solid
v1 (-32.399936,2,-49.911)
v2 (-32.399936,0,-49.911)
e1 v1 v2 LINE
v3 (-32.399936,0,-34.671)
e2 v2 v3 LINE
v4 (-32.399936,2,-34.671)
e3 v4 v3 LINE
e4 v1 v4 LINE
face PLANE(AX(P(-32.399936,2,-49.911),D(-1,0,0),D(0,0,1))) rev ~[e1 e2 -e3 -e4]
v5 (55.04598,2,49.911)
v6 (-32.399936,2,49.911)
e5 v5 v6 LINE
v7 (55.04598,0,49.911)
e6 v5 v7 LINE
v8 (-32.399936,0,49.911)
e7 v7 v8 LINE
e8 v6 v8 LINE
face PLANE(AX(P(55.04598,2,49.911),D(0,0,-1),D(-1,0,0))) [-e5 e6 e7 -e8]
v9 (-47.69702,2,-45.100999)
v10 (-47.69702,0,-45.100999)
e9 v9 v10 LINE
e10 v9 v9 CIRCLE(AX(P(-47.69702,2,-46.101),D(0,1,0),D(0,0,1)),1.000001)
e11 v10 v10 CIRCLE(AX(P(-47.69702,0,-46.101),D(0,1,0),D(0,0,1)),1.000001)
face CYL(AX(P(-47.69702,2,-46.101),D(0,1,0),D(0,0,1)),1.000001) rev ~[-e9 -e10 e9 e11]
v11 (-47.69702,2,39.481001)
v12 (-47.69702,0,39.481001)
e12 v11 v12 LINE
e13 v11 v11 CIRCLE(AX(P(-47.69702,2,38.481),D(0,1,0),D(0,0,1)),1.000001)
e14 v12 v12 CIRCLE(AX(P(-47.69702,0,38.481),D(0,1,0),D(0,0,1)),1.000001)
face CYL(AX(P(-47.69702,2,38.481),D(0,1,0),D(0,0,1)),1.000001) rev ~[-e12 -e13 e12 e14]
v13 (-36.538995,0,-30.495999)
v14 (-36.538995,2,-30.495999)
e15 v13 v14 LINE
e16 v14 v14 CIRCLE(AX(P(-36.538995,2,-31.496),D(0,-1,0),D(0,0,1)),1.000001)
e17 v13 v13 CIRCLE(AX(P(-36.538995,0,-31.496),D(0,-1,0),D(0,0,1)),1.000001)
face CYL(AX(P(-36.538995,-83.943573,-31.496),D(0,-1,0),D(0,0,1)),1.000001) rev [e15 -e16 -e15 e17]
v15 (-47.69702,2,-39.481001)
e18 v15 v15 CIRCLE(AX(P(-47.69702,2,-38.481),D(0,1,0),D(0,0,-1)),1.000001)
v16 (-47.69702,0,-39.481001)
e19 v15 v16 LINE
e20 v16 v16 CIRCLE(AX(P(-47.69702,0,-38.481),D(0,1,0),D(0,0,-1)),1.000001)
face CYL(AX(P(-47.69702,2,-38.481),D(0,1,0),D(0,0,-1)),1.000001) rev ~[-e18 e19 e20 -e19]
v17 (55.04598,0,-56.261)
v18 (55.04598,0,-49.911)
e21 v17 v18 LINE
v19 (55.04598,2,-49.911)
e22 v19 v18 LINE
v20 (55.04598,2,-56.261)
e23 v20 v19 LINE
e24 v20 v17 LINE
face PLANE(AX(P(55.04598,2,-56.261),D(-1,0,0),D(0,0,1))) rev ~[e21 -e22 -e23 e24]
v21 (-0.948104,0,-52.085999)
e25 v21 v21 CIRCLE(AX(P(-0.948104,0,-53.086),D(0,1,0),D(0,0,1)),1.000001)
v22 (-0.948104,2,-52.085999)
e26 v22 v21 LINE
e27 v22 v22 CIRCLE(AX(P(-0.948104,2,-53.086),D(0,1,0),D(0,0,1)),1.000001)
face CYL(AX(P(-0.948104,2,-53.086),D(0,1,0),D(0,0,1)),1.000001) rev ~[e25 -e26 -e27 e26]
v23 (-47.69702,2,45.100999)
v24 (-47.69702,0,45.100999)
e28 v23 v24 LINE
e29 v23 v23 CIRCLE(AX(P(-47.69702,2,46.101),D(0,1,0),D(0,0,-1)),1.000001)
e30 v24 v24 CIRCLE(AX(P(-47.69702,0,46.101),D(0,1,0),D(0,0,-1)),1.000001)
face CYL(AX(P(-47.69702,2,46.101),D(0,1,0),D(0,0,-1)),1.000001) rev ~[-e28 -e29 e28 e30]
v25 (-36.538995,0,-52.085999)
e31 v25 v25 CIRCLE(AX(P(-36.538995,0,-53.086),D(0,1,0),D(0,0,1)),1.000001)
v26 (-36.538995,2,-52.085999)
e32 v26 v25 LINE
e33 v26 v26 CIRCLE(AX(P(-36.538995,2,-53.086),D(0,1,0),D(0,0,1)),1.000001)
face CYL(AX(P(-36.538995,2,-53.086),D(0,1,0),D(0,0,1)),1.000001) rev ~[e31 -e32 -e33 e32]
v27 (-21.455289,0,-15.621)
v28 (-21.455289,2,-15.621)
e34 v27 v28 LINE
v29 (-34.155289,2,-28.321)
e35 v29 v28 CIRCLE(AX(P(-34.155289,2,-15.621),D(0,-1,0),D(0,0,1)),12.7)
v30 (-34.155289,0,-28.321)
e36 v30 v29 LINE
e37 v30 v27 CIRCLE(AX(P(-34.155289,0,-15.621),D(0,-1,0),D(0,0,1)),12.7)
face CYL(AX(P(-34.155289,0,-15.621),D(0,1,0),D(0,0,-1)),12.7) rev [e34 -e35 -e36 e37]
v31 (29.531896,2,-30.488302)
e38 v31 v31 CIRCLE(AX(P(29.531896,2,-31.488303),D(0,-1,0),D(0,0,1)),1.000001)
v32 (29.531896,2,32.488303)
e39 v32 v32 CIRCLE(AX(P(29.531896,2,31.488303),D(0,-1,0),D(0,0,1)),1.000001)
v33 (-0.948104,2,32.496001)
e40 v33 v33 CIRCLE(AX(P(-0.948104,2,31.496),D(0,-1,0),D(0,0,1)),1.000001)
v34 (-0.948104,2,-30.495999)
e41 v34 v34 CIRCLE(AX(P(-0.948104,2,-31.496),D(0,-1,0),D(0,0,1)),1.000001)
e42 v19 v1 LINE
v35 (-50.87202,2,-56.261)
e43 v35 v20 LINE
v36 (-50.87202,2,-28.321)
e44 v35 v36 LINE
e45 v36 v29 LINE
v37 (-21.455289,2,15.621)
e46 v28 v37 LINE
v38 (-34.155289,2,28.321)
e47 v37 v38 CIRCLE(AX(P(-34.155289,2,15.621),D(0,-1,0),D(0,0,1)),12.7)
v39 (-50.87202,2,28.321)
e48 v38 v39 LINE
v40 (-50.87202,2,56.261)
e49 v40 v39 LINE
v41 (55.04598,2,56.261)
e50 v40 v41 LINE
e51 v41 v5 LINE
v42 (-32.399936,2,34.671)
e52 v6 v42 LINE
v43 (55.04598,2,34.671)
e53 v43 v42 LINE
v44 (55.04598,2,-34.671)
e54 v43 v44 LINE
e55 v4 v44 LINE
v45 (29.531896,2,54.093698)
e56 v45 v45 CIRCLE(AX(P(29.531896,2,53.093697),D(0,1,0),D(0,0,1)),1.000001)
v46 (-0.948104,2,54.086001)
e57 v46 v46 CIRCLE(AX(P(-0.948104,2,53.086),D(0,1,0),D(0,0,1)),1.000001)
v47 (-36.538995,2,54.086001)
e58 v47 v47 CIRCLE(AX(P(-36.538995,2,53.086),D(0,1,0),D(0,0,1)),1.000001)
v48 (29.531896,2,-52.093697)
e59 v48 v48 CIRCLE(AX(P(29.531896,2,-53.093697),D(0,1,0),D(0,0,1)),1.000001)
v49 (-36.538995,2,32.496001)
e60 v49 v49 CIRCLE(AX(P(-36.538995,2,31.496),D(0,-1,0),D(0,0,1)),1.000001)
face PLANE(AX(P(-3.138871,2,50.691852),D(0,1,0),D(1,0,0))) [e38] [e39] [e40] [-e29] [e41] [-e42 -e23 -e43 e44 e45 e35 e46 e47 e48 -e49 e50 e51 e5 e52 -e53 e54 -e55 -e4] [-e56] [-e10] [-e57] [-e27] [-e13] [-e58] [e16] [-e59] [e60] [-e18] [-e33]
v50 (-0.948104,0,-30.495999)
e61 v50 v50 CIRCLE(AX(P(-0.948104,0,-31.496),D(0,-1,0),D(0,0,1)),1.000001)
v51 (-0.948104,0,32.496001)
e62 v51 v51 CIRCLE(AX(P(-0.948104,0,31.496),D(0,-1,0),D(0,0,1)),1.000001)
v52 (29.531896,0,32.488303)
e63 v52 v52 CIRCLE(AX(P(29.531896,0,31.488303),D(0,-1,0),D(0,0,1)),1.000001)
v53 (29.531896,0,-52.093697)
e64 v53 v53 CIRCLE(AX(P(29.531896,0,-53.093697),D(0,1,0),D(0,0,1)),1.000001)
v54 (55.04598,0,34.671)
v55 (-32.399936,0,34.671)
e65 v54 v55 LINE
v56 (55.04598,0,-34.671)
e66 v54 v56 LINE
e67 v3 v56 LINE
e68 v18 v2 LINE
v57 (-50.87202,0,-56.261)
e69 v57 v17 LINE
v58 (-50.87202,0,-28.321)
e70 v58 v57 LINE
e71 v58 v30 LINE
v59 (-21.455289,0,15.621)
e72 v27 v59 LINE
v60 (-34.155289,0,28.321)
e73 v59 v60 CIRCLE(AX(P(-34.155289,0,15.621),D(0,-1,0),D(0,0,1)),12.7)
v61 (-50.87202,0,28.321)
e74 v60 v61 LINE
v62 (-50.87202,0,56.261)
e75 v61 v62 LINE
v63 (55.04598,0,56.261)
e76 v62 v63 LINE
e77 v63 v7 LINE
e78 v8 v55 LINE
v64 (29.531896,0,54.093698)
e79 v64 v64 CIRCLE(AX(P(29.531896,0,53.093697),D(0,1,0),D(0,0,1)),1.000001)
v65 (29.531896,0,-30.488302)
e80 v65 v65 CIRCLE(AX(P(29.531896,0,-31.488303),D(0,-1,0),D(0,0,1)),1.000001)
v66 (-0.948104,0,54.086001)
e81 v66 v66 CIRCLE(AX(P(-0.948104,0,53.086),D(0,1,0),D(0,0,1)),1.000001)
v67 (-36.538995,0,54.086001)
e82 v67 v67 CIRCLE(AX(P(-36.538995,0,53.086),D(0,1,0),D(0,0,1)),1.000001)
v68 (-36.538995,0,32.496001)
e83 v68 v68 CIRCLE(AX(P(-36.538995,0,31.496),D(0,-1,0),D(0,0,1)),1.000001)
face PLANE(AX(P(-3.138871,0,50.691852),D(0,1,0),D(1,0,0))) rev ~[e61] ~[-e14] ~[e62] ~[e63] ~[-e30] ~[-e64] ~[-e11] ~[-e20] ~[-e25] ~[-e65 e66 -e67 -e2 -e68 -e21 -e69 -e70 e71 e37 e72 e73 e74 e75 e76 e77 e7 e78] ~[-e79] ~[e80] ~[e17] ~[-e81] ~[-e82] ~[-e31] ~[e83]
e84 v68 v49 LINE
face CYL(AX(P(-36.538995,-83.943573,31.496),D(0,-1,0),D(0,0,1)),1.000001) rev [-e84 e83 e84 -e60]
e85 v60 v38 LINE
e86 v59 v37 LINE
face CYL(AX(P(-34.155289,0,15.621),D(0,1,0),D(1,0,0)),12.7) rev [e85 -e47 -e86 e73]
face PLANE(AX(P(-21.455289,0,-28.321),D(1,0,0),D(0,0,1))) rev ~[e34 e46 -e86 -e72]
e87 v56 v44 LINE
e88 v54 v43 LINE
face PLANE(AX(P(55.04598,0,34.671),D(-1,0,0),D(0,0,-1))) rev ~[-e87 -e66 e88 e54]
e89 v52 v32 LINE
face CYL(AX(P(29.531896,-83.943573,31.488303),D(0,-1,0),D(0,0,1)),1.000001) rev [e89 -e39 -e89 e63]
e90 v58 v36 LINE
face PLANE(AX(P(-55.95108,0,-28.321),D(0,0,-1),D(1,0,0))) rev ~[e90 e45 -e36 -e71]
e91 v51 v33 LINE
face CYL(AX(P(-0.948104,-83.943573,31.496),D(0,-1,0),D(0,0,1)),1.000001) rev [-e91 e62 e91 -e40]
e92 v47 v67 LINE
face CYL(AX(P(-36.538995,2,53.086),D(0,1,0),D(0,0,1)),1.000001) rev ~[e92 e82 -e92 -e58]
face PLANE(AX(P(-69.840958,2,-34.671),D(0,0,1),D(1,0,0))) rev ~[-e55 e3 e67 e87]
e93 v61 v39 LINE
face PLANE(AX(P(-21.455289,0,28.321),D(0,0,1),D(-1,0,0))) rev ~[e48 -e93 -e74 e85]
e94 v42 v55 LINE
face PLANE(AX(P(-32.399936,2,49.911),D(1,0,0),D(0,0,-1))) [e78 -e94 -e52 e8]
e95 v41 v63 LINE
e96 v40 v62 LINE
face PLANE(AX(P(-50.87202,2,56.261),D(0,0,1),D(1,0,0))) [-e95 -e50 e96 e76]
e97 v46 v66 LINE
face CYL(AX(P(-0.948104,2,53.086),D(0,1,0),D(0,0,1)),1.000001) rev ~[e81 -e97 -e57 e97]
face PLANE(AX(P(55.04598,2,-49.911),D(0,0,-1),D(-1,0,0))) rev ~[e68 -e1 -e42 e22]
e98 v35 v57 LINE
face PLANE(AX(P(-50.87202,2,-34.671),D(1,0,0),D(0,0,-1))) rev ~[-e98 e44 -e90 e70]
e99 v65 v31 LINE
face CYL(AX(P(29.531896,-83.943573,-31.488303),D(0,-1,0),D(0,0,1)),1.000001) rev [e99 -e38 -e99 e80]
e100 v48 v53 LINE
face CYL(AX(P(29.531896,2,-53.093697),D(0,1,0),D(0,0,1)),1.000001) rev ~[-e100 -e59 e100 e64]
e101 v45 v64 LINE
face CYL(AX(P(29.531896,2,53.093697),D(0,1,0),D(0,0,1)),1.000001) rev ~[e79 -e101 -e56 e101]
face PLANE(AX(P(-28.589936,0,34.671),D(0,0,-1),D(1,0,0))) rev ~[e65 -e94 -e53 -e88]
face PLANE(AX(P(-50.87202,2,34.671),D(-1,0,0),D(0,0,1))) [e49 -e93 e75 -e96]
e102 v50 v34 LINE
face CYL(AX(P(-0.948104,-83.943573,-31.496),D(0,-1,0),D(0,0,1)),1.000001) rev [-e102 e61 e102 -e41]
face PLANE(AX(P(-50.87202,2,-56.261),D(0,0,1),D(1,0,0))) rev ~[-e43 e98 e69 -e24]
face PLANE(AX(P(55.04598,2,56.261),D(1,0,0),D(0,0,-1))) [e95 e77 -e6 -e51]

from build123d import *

# Parameters (mm, degrees)
BOSS_EXTRUDE1_DEPTH     = 2
FILLET1_R               = 12.7
CUT_EXTRUDE1_DEPTH      = 85.94357346
CUT_EXTRUDE1_DEPTH_BACK = 85.94357346
SKETCH2_R               = 1.00000054
CUT_EXTRUDE2_DEPTH      = 85.94357346
CUT_EXTRUDE2_DEPTH_BACK = 85.94357346
SKETCH3_W               = 3.81
SKETCH3_H               = 22.86
CUT_EXTRUDE3_DEPTH      = 85.94357346
CUT_EXTRUDE4_DEPTH      = 85.94357346
SKETCH7_R               = 1.00000054
SKETCH7_W               = 1.965807504
SKETCH7_H               = 35.56
CUT_EXTRUDE5_DEPTH      = 85.94357346
SKETCH9_R               = 1.00000054
SKETCH9_W               = 5.08
SKETCH9_H               = 35.56
CUT_EXTRUDE6_DEPTH      = 85.94357346
SKETCH10_W              = 3.261861975
SKETCH10_H              = 39.805650988
SKETCH10_W_2            = 3.49604191
SKETCH10_H_2            = 37.586377376
BOSS_EXTRUDE2_DEPTH     = 2
SKETCH11_W              = 18.472083706
SKETCH11_H              = 7.62
CUT_EXTRUDE7_DEPTH      = 85.349523446
CUT_EXTRUDE8_DEPTH      = 85.349523446
SKETCH13_R              = 1.00000054
BOSS_EXTRUDE3_DEPTH     = 2
CUT_EXTRUDE9_DEPTH      = 85.349523446
SKETCH15_R              = 1.00000054
BOSS_EXTRUDE6_DEPTH     = 2
SKETCH16_W              = 4.512091431
SKETCH16_H              = 18.148634424
SKETCH16_W_2            = 6.251984605
SKETCH16_H_2            = 13.072331447
BOSS_EXTRUDE7_DEPTH     = 2
SKETCH17_R              = 1.00000054
CUT_EXTRUDE10_DEPTH     = 79.736015048
SKETCH18_W              = 71.149585785
SKETCH18_H              = 51.177772232
BOSS_EXTRUDE8_DEPTH     = 2


with BuildPart() as part:
    # Sketch1 → Boss-Extrude1 (new body)
    with BuildSketch(Plane(origin=(0, 0, 0), x_dir=(1, 0, 0), z_dir=(0, 1, 0))):
        Polygon((-55.952019723, 28.533921393), (-55.951080052, 28.321), (-21.455288819, 28.321), (-21.455288819, -28.321), (-55.952019723, -28.321), (-55.952019723, -63.881), (55.045980277, -63.881), (55.045980277, -57.531), (32.458455221, -57.531), (-28.589936017, -57.531), (-28.589936017, -46.101), (-28.589936017, -34.671), (32.458455221, -34.671), (55.045980277, -34.671), (55.045980277, 34.671), (32.458455221, 34.671), (-28.589936017, 34.671), (-28.589936017, 46.101), (-28.589936017, 57.531), (32.458455221, 57.531), (55.045980277, 57.531), (55.045980277, 63.881), (-55.952019723, 63.881), align=None)
    extrude(amount=BOSS_EXTRUDE1_DEPTH)

    # Fillet1
    fillet1_edges = [part.edges().sort_by_distance(p)[0] for p in [
        (-21.455288819, 1, 28.321),
        (-21.455288819, 1, -28.321),
    ]]
    fillet(fillet1_edges, radius=FILLET1_R)

    # Sketch2 → Cut-Extrude1 (cut, two sides: drawn at the far end of the back side and taken through both)
    with BuildSketch(Plane(origin=(0, 2, 0), x_dir=(1, 0, 0), z_dir=(0, 1, 0)).offset(-CUT_EXTRUDE1_DEPTH_BACK)):
        with Locations(Location((51.870980277, 0, 0), (0, 0, 270))):
            Circle(SKETCH2_R)
        with Locations(Location((51.870980277, 14.1605, 0), (0, 0, 270))):
            Circle(SKETCH2_R)
        with Locations(Location((-18.280288819, 0, 0), (0, 0, 270))):
            Circle(SKETCH2_R)
        with Locations(Location((-18.280288819, -14.1605, 0), (0, 0, 270))):
            Circle(SKETCH2_R)
        with Locations(Location((-18.280288819, 14.1605, 0), (0, 0, 270))):
            Circle(SKETCH2_R)
        with Locations(Location((-36.538995414, 31.496, 0), (0, 0, 270))):
            Circle(SKETCH2_R)
        with Locations(Location((-0.948104424, 31.496, 0), (0, 0, 270))):
            Circle(SKETCH2_R)
        with Locations(Location((29.531895576, 31.488302757, 0), (0, 0, 270))):
            Circle(SKETCH2_R)
        with Locations(Location((-52.777019723, 45.1485, 0), (0, 0, 270))):
            Circle(SKETCH2_R)
        with Locations(Location((-52.777019723, 53.4035, 0), (0, 0, 270))):
            Circle(SKETCH2_R)
        with Locations(Location((-36.538995414, 60.706, 0), (0, 0, 270))):
            Circle(SKETCH2_R)
        with Locations(Location((-0.948104424, 60.706, 0), (0, 0, 270))):
            Circle(SKETCH2_R)
        with Locations(Location((29.531895576, 60.713697243, 0), (0, 0, 270))):
            Circle(SKETCH2_R)
        with Locations(Location((29.531895576, -60.713697243, 0), (0, 0, 270))):
            Circle(SKETCH2_R)
        with Locations(Location((-0.948104424, -60.706, 0), (0, 0, 270))):
            Circle(SKETCH2_R)
        with Locations(Location((-36.538995414, -60.706, 0), (0, 0, 270))):
            Circle(SKETCH2_R)
        with Locations(Location((-52.777019723, -53.4035, 0), (0, 0, 270))):
            Circle(SKETCH2_R)
        with Locations(Location((-52.777019723, -45.1485, 0), (0, 0, 270))):
            Circle(SKETCH2_R)
        with Locations(Location((29.531895576, -31.488302757, 0), (0, 0, 270))):
            Circle(SKETCH2_R)
        with Locations(Location((-0.948104424, -31.496, 0), (0, 0, 270))):
            Circle(SKETCH2_R)
        with Locations(Location((-36.538995414, -31.496, 0), (0, 0, 270))):
            Circle(SKETCH2_R)
        with Locations(Location((51.870980277, -14.1605, 0), (0, 0, 270))):
            Circle(SKETCH2_R)
    extrude(amount=CUT_EXTRUDE1_DEPTH + CUT_EXTRUDE1_DEPTH_BACK, mode=Mode.SUBTRACT)

    # Sketch3 → Cut-Extrude2 (cut, two sides: drawn at the far end of the back side and taken through both)
    with BuildSketch(Plane(origin=(0, 2, 0), x_dir=(1, 0, 0), z_dir=(0, 1, 0)).offset(-CUT_EXTRUDE2_DEPTH_BACK)):
        with Locations((-30.494936017, -46.101)):
            Rectangle(SKETCH3_W, SKETCH3_H)
        with Locations((-30.494936017, 46.101)):
            Rectangle(SKETCH3_W, SKETCH3_H)
    extrude(amount=CUT_EXTRUDE2_DEPTH + CUT_EXTRUDE2_DEPTH_BACK, mode=Mode.SUBTRACT)

    # Sketch5 → Cut-Extrude3 (cut, through all)
    with BuildSketch(Plane(origin=(0, 2, 0), x_dir=(1, 0, 0), z_dir=(0, 1, 0))):
        with BuildLine():
            Line((-7.280288819, 22.171), (-7.280288819, 6.25))
            ThreePointArc((-7.280288819, 6.25), (-8.280288819, 5.25), (-9.280288819, 6.25))
            Line((-9.280288819, 6.25), (-9.280288819, 22.171))
            ThreePointArc((-9.280288819, 22.171), (-8.280288819, 23.171), (-7.280288819, 22.171))
        make_face()
        with BuildLine():
            Line((-7.280288819, -22.171), (-7.280288819, -6.25))
            ThreePointArc((-7.280288819, -6.25), (-8.280288819, -5.25), (-9.280288819, -6.25))
            Line((-9.280288819, -6.25), (-9.280288819, -22.171))
            ThreePointArc((-9.280288819, -22.171), (-8.280288819, -23.171), (-7.280288819, -22.171))
        make_face()
        with BuildLine():
            Line((-4.280288819, 22.171), (-4.280288819, 6.25))
            ThreePointArc((-4.280288819, 6.25), (-3.280288819, 5.25), (-2.280288819, 6.25))
            Line((-2.280288819, 6.25), (-2.280288819, 22.171))
            ThreePointArc((-2.280288819, 22.171), (-3.280288819, 23.171), (-4.280288819, 22.171))
        make_face()
        with BuildLine():
            Line((2.719711181, 22.171), (2.719711181, 6.25))
            ThreePointArc((2.719711181, 6.25), (1.719711181, 5.25), (0.719711181, 6.25))
            Line((0.719711181, 6.25), (0.719711181, 22.171))
            ThreePointArc((0.719711181, 22.171), (1.719711181, 23.171), (2.719711181, 22.171))
        make_face()
        with BuildLine():
            Line((2.719711181, -22.171), (2.719711181, -6.25))
            ThreePointArc((2.719711181, -6.25), (1.719711181, -5.25), (0.719711181, -6.25))
            Line((0.719711181, -6.25), (0.719711181, -22.171))
            ThreePointArc((0.719711181, -22.171), (1.719711181, -23.171), (2.719711181, -22.171))
        make_face()
        with BuildLine():
            Line((-4.280288819, -22.171), (-4.280288819, -6.25))
            ThreePointArc((-4.280288819, -6.25), (-3.280288819, -5.25), (-2.280288819, -6.25))
            Line((-2.280288819, -6.25), (-2.280288819, -22.171))
            ThreePointArc((-2.280288819, -22.171), (-3.280288819, -23.171), (-4.280288819, -22.171))
        make_face()
    extrude(amount=-CUT_EXTRUDE3_DEPTH, mode=Mode.SUBTRACT)

    # Sketch6 → Cut-Extrude4 (cut, through all)
    with BuildSketch(Plane(origin=(0, 2, 0), x_dir=(1, 0, 0), z_dir=(0, 1, 0))):
        with BuildLine():
            Line((23.282365986, 8.144284406), (12.061731324, 4.060307379))
            ThreePointArc((12.061731324, 4.060307379), (10.78001856, 4.657979857), (11.377691038, 5.939692621))
            Line((11.377691038, 5.939692621), (22.598325699, 10.023669647))
            ThreePointArc((22.598325699, 10.023669647), (23.880038464, 9.42599717), (23.282365986, 8.144284406))
        make_face()
        with BuildLine():
            Line((35.782365986, 8.144284406), (24.561731324, 4.060307379))
            ThreePointArc((24.561731324, 4.060307379), (23.28001856, 4.657979857), (23.877691038, 5.939692621))
            Line((23.877691038, 5.939692621), (35.098325699, 10.023669647))
            ThreePointArc((35.098325699, 10.023669647), (36.380038464, 9.42599717), (35.782365986, 8.144284406))
        make_face()
        with BuildLine():
            Line((48.282365986, 8.144284406), (37.061731324, 4.060307379))
            ThreePointArc((37.061731324, 4.060307379), (35.78001856, 4.657979857), (36.377691038, 5.939692621))
            Line((36.377691038, 5.939692621), (47.598325699, 10.023669647))
            ThreePointArc((47.598325699, 10.023669647), (48.880038464, 9.42599717), (48.282365986, 8.144284406))
        make_face()
        with BuildLine():
            Line((23.212938712, 16.811828882), (11.992304051, 12.727851856))
            ThreePointArc((11.992304051, 12.727851856), (10.710591286, 13.325524333), (11.308263764, 14.607237098))
            Line((11.308263764, 14.607237098), (22.528898426, 18.691214124))
            ThreePointArc((22.528898426, 18.691214124), (23.81061119, 18.093541647), (23.212938712, 16.811828882))
        make_face()
        with BuildLine():
            Line((35.712938712, 16.811828882), (24.492304051, 12.727851856))
            ThreePointArc((24.492304051, 12.727851856), (23.210591286, 13.325524333), (23.808263764, 14.607237098))
            Line((23.808263764, 14.607237098), (35.028898426, 18.691214124))
            ThreePointArc((35.028898426, 18.691214124), (36.31061119, 18.093541647), (35.712938712, 16.811828882))
        make_face()
        with BuildLine():
            Line((48.212938712, 16.811828882), (36.992304051, 12.727851856))
            ThreePointArc((36.992304051, 12.727851856), (35.710591286, 13.325524333), (36.308263764, 14.607237098))
            Line((36.308263764, 14.607237098), (47.528898426, 18.691214124))
            ThreePointArc((47.528898426, 18.691214124), (48.81061119, 18.093541647), (48.212938712, 16.811828882))
        make_face()
        with BuildLine():
            Line((48.282365986, -8.144284406), (37.061731324, -4.060307379))
            ThreePointArc((37.061731324, -4.060307379), (35.78001856, -4.657979857), (36.377691038, -5.939692621))
            Line((36.377691038, -5.939692621), (47.598325699, -10.023669647))
            ThreePointArc((47.598325699, -10.023669647), (48.880038464, -9.42599717), (48.282365986, -8.144284406))
        make_face()
        with BuildLine():
            Line((35.782365986, -8.144284406), (24.561731324, -4.060307379))
            ThreePointArc((24.561731324, -4.060307379), (23.28001856, -4.657979857), (23.877691038, -5.939692621))
            Line((23.877691038, -5.939692621), (35.098325699, -10.023669647))
            ThreePointArc((35.098325699, -10.023669647), (36.380038464, -9.42599717), (35.782365986, -8.144284406))
        make_face()
        with BuildLine():
            Line((23.282365986, -8.144284406), (12.061731324, -4.060307379))
            ThreePointArc((12.061731324, -4.060307379), (10.78001856, -4.657979857), (11.377691038, -5.939692621))
            Line((11.377691038, -5.939692621), (22.598325699, -10.023669647))
            ThreePointArc((22.598325699, -10.023669647), (23.880038464, -9.42599717), (23.282365986, -8.144284406))
        make_face()
        with BuildLine():
            Line((48.212938712, -16.811828882), (36.992304051, -12.727851856))
            ThreePointArc((36.992304051, -12.727851856), (35.710591286, -13.325524333), (36.308263764, -14.607237098))
            Line((36.308263764, -14.607237098), (47.528898426, -18.691214124))
            ThreePointArc((47.528898426, -18.691214124), (48.81061119, -18.093541647), (48.212938712, -16.811828882))
        make_face()
        with BuildLine():
            Line((35.712938712, -16.811828882), (24.492304051, -12.727851856))
            ThreePointArc((24.492304051, -12.727851856), (23.210591286, -13.325524333), (23.808263764, -14.607237098))
            Line((23.808263764, -14.607237098), (35.028898426, -18.691214124))
            ThreePointArc((35.028898426, -18.691214124), (36.31061119, -18.093541647), (35.712938712, -16.811828882))
        make_face()
        with BuildLine():
            Line((23.212938712, -16.811828882), (11.992304051, -12.727851856))
            ThreePointArc((11.992304051, -12.727851856), (10.710591286, -13.325524333), (11.308263764, -14.607237098))
            Line((11.308263764, -14.607237098), (22.528898426, -18.691214124))
            ThreePointArc((22.528898426, -18.691214124), (23.81061119, -18.093541647), (23.212938712, -16.811828882))
        make_face()
    extrude(amount=-CUT_EXTRUDE4_DEPTH, mode=Mode.SUBTRACT)

    # Sketch7 → Cut-Extrude5 (cut, through all)
    with BuildSketch(Plane.XZ):
        with Locations((-54.742827227, 53.4035)):
            Circle(SKETCH7_R)
        with Locations((-54.742827227, 45.1485)):
            Circle(SKETCH7_R)
        with Locations((-54.742827227, -45.1485)):
            Circle(SKETCH7_R)
        with Locations((-54.742827227, -53.4035)):
            Circle(SKETCH7_R)
        with Locations((-56.934923475, 46.101)):
            Rectangle(SKETCH7_W, SKETCH7_H)
        with Locations((-56.934923475, -46.101)):
            Rectangle(SKETCH7_W, SKETCH7_H)
    extrude(amount=-CUT_EXTRUDE5_DEPTH, mode=Mode.SUBTRACT)

    # Sketch9 → Cut-Extrude6 (cut, through all)
    with BuildSketch(Plane.XZ):
        with Locations(Location((-47.697019723, 53.4035, 0), (0, 0, 270))):
            Circle(SKETCH9_R)
        with Locations(Location((-47.697019723, 45.1485, 0), (0, 0, 270))):
            Circle(SKETCH9_R)
        with Locations(Location((-47.697019723, -45.1485, 0), (0, 0, 90))):
            Circle(SKETCH9_R)
        with Locations(Location((-47.697019723, -53.4035, 0), (0, 0, 90))):
            Circle(SKETCH9_R)
        with Locations((-53.412019723, 46.101)):
            Rectangle(SKETCH9_W, SKETCH9_H)
        with Locations((-53.412019723, -46.101)):
            Rectangle(SKETCH9_W, SKETCH9_H)
    extrude(amount=-CUT_EXTRUDE6_DEPTH, mode=Mode.SUBTRACT)

    # Sketch10 → Boss-Extrude2 (add)
    with BuildSketch(Plane(origin=(0, 2, 0), x_dir=(1, 0, 0), z_dir=(0, 1, 0))):
        with Locations((-18.280288819, 0)):
            Rectangle(SKETCH10_W, SKETCH10_H)
        with Locations((51.870980277, 0)):
            Rectangle(SKETCH10_W_2, SKETCH10_H_2)
    extrude(amount=-BOSS_EXTRUDE2_DEPTH)

    # Sketch11 → Cut-Extrude7 (cut, through all)
    with BuildSketch(Plane(origin=(0, 2, 0), x_dir=(1, 0, 0), z_dir=(0, 1, 0))):
        with Locations((-41.63597787, -38.481)):
            Rectangle(SKETCH11_W, SKETCH11_H)
    extrude(amount=-CUT_EXTRUDE7_DEPTH, mode=Mode.SUBTRACT)


with BuildPart() as cut_extrude7_piece_1:
    # of the separate pieces the step leaves, piece 1, a body of its own (cut_extrude7_pieces)
    add(part.part.solids().sort_by_distance((-50.872019723, 2, -28.321))[0])

    # Sketch12 → Cut-Extrude8 (cut, through all)
    with BuildSketch(Plane(origin=(0, 2, 0), x_dir=(1, 0, 0), z_dir=(0, 1, 0))):
        Polygon((-32.399936017, 34.671), (-69.840957795, 34.671), (-69.840957795, 70.713964433), (61.672853026, 70.713964433), (61.672853026, 34.671), align=None)
    extrude(amount=-CUT_EXTRUDE8_DEPTH, mode=Mode.SUBTRACT)

    # Sketch13 → Boss-Extrude3 (add)
    with BuildSketch(Plane(origin=(0, 2, 0), x_dir=(1, 0, 0), z_dir=(0, 1, 0))):
        Polygon((55.045980277, 49.911), (-32.399936017, 49.911), (-32.399936017, 34.671), (-50.872019723, 34.671), (-50.872019723, 56.261), (55.045980277, 56.261), align=None)
        with Locations(Location((29.531895576, 53.093697243, 0), (0, 0, 270))):
            Circle(SKETCH13_R, mode=Mode.SUBTRACT)
        with Locations(Location((-0.948104424, 53.086, 0), (0, 0, 270))):
            Circle(SKETCH13_R, mode=Mode.SUBTRACT)
        with Locations(Location((-36.538995414, 53.086, 0), (0, 0, 270))):
            Circle(SKETCH13_R, mode=Mode.SUBTRACT)
        with Locations(Location((-47.697019723, 45.7835, 0), (0, 0, 270))):
            Circle(SKETCH13_R, mode=Mode.SUBTRACT)
        with Locations(Location((-47.697019723, 37.5285, 0), (0, 0, 270))):
            Circle(SKETCH13_R, mode=Mode.SUBTRACT)
    extrude(amount=-BOSS_EXTRUDE3_DEPTH)

    # Sketch15 → Boss-Extrude6 (add)
    with BuildSketch(Plane(origin=(0, 2, 0), x_dir=(1, 0, 0), z_dir=(0, 1, 0))):
        Polygon((-50.872019723, -34.671), (-50.872019723, -56.261), (55.045980277, -56.261), (55.045980277, -49.911), (-32.399936017, -49.911), (-32.399936017, -34.671), align=None)
        with Locations(Location((-47.697019723, -45.7835, 0), (0, 0, 270))):
            Circle(SKETCH15_R, mode=Mode.SUBTRACT)
        with Locations(Location((-47.697019723, -37.5285, 0), (0, 0, 270))):
            Circle(SKETCH15_R, mode=Mode.SUBTRACT)
        with Locations(Location((-36.538995414, -53.086, 0), (0, 0, 270))):
            Circle(SKETCH15_R, mode=Mode.SUBTRACT)
        with Locations(Location((-0.948104424, -53.086, 0), (0, 0, 270))):
            Circle(SKETCH15_R, mode=Mode.SUBTRACT)
        with Locations(Location((29.531895576, -53.093697243, 0), (0, 0, 270))):
            Circle(SKETCH15_R, mode=Mode.SUBTRACT)
    extrude(amount=-BOSS_EXTRUDE6_DEPTH)

    # Sketch16 → Boss-Extrude7 (add)
    with BuildSketch(Plane.XZ):
        with Locations((-48.131896009, -42.111008016)):
            Rectangle(SKETCH16_W, SKETCH16_H)
        with Locations((-47.11527877, 41.979427187)):
            Rectangle(SKETCH16_W_2, SKETCH16_H_2)
    extrude(amount=-BOSS_EXTRUDE7_DEPTH)

    # Sketch17 → Cut-Extrude10 (cut, through all)
    with BuildSketch(Plane(origin=(0, 2, 0), x_dir=(1, 0, 0), z_dir=(0, 1, 0))):
        with Locations(Location((-47.697019723, -38.481, 0), (0, 0, 270))):
            Circle(SKETCH17_R)
        with Locations(Location((-47.697019723, -46.101, 0), (0, 0, 90))):
            Circle(SKETCH17_R)
        with Locations(Location((-47.697019723, 38.481, 0), (0, 0, 90))):
            Circle(SKETCH17_R)
        with Locations(Location((-47.697019723, 46.101, 0), (0, 0, 270))):
            Circle(SKETCH17_R)
    extrude(amount=-CUT_EXTRUDE10_DEPTH, mode=Mode.SUBTRACT)

    # Sketch18 → Boss-Extrude8 (add)
    with BuildSketch(Plane.XZ):
        with Locations((15.639282332, 0)):
            Rectangle(SKETCH18_W, SKETCH18_H)
    extrude(amount=-BOSS_EXTRUDE8_DEPTH)


with BuildPart() as cut_extrude7_piece_2:
    # of the separate pieces the step leaves, piece 2, a body of its own (cut_extrude7_pieces)
    add(part.part.solids().sort_by_distance((-32.399936017, 2, 42.291))[0])

    # Sketch14 → Cut-Extrude9 (cut, through all)
    with BuildSketch(Plane(origin=(0, 2, 0), x_dir=(1, 0, 0), z_dir=(0, 1, 0))):
        Polygon((-32.399936017, -42.291), (-50.872019723, -42.291), (-50.872019723, -63.881), (55.045980277, -63.881), (55.045980277, -57.531), (-32.399936017, -57.531), align=None)
    extrude(amount=-CUT_EXTRUDE9_DEPTH, mode=Mode.SUBTRACT)


solid = cut_extrude7_piece_1.part
